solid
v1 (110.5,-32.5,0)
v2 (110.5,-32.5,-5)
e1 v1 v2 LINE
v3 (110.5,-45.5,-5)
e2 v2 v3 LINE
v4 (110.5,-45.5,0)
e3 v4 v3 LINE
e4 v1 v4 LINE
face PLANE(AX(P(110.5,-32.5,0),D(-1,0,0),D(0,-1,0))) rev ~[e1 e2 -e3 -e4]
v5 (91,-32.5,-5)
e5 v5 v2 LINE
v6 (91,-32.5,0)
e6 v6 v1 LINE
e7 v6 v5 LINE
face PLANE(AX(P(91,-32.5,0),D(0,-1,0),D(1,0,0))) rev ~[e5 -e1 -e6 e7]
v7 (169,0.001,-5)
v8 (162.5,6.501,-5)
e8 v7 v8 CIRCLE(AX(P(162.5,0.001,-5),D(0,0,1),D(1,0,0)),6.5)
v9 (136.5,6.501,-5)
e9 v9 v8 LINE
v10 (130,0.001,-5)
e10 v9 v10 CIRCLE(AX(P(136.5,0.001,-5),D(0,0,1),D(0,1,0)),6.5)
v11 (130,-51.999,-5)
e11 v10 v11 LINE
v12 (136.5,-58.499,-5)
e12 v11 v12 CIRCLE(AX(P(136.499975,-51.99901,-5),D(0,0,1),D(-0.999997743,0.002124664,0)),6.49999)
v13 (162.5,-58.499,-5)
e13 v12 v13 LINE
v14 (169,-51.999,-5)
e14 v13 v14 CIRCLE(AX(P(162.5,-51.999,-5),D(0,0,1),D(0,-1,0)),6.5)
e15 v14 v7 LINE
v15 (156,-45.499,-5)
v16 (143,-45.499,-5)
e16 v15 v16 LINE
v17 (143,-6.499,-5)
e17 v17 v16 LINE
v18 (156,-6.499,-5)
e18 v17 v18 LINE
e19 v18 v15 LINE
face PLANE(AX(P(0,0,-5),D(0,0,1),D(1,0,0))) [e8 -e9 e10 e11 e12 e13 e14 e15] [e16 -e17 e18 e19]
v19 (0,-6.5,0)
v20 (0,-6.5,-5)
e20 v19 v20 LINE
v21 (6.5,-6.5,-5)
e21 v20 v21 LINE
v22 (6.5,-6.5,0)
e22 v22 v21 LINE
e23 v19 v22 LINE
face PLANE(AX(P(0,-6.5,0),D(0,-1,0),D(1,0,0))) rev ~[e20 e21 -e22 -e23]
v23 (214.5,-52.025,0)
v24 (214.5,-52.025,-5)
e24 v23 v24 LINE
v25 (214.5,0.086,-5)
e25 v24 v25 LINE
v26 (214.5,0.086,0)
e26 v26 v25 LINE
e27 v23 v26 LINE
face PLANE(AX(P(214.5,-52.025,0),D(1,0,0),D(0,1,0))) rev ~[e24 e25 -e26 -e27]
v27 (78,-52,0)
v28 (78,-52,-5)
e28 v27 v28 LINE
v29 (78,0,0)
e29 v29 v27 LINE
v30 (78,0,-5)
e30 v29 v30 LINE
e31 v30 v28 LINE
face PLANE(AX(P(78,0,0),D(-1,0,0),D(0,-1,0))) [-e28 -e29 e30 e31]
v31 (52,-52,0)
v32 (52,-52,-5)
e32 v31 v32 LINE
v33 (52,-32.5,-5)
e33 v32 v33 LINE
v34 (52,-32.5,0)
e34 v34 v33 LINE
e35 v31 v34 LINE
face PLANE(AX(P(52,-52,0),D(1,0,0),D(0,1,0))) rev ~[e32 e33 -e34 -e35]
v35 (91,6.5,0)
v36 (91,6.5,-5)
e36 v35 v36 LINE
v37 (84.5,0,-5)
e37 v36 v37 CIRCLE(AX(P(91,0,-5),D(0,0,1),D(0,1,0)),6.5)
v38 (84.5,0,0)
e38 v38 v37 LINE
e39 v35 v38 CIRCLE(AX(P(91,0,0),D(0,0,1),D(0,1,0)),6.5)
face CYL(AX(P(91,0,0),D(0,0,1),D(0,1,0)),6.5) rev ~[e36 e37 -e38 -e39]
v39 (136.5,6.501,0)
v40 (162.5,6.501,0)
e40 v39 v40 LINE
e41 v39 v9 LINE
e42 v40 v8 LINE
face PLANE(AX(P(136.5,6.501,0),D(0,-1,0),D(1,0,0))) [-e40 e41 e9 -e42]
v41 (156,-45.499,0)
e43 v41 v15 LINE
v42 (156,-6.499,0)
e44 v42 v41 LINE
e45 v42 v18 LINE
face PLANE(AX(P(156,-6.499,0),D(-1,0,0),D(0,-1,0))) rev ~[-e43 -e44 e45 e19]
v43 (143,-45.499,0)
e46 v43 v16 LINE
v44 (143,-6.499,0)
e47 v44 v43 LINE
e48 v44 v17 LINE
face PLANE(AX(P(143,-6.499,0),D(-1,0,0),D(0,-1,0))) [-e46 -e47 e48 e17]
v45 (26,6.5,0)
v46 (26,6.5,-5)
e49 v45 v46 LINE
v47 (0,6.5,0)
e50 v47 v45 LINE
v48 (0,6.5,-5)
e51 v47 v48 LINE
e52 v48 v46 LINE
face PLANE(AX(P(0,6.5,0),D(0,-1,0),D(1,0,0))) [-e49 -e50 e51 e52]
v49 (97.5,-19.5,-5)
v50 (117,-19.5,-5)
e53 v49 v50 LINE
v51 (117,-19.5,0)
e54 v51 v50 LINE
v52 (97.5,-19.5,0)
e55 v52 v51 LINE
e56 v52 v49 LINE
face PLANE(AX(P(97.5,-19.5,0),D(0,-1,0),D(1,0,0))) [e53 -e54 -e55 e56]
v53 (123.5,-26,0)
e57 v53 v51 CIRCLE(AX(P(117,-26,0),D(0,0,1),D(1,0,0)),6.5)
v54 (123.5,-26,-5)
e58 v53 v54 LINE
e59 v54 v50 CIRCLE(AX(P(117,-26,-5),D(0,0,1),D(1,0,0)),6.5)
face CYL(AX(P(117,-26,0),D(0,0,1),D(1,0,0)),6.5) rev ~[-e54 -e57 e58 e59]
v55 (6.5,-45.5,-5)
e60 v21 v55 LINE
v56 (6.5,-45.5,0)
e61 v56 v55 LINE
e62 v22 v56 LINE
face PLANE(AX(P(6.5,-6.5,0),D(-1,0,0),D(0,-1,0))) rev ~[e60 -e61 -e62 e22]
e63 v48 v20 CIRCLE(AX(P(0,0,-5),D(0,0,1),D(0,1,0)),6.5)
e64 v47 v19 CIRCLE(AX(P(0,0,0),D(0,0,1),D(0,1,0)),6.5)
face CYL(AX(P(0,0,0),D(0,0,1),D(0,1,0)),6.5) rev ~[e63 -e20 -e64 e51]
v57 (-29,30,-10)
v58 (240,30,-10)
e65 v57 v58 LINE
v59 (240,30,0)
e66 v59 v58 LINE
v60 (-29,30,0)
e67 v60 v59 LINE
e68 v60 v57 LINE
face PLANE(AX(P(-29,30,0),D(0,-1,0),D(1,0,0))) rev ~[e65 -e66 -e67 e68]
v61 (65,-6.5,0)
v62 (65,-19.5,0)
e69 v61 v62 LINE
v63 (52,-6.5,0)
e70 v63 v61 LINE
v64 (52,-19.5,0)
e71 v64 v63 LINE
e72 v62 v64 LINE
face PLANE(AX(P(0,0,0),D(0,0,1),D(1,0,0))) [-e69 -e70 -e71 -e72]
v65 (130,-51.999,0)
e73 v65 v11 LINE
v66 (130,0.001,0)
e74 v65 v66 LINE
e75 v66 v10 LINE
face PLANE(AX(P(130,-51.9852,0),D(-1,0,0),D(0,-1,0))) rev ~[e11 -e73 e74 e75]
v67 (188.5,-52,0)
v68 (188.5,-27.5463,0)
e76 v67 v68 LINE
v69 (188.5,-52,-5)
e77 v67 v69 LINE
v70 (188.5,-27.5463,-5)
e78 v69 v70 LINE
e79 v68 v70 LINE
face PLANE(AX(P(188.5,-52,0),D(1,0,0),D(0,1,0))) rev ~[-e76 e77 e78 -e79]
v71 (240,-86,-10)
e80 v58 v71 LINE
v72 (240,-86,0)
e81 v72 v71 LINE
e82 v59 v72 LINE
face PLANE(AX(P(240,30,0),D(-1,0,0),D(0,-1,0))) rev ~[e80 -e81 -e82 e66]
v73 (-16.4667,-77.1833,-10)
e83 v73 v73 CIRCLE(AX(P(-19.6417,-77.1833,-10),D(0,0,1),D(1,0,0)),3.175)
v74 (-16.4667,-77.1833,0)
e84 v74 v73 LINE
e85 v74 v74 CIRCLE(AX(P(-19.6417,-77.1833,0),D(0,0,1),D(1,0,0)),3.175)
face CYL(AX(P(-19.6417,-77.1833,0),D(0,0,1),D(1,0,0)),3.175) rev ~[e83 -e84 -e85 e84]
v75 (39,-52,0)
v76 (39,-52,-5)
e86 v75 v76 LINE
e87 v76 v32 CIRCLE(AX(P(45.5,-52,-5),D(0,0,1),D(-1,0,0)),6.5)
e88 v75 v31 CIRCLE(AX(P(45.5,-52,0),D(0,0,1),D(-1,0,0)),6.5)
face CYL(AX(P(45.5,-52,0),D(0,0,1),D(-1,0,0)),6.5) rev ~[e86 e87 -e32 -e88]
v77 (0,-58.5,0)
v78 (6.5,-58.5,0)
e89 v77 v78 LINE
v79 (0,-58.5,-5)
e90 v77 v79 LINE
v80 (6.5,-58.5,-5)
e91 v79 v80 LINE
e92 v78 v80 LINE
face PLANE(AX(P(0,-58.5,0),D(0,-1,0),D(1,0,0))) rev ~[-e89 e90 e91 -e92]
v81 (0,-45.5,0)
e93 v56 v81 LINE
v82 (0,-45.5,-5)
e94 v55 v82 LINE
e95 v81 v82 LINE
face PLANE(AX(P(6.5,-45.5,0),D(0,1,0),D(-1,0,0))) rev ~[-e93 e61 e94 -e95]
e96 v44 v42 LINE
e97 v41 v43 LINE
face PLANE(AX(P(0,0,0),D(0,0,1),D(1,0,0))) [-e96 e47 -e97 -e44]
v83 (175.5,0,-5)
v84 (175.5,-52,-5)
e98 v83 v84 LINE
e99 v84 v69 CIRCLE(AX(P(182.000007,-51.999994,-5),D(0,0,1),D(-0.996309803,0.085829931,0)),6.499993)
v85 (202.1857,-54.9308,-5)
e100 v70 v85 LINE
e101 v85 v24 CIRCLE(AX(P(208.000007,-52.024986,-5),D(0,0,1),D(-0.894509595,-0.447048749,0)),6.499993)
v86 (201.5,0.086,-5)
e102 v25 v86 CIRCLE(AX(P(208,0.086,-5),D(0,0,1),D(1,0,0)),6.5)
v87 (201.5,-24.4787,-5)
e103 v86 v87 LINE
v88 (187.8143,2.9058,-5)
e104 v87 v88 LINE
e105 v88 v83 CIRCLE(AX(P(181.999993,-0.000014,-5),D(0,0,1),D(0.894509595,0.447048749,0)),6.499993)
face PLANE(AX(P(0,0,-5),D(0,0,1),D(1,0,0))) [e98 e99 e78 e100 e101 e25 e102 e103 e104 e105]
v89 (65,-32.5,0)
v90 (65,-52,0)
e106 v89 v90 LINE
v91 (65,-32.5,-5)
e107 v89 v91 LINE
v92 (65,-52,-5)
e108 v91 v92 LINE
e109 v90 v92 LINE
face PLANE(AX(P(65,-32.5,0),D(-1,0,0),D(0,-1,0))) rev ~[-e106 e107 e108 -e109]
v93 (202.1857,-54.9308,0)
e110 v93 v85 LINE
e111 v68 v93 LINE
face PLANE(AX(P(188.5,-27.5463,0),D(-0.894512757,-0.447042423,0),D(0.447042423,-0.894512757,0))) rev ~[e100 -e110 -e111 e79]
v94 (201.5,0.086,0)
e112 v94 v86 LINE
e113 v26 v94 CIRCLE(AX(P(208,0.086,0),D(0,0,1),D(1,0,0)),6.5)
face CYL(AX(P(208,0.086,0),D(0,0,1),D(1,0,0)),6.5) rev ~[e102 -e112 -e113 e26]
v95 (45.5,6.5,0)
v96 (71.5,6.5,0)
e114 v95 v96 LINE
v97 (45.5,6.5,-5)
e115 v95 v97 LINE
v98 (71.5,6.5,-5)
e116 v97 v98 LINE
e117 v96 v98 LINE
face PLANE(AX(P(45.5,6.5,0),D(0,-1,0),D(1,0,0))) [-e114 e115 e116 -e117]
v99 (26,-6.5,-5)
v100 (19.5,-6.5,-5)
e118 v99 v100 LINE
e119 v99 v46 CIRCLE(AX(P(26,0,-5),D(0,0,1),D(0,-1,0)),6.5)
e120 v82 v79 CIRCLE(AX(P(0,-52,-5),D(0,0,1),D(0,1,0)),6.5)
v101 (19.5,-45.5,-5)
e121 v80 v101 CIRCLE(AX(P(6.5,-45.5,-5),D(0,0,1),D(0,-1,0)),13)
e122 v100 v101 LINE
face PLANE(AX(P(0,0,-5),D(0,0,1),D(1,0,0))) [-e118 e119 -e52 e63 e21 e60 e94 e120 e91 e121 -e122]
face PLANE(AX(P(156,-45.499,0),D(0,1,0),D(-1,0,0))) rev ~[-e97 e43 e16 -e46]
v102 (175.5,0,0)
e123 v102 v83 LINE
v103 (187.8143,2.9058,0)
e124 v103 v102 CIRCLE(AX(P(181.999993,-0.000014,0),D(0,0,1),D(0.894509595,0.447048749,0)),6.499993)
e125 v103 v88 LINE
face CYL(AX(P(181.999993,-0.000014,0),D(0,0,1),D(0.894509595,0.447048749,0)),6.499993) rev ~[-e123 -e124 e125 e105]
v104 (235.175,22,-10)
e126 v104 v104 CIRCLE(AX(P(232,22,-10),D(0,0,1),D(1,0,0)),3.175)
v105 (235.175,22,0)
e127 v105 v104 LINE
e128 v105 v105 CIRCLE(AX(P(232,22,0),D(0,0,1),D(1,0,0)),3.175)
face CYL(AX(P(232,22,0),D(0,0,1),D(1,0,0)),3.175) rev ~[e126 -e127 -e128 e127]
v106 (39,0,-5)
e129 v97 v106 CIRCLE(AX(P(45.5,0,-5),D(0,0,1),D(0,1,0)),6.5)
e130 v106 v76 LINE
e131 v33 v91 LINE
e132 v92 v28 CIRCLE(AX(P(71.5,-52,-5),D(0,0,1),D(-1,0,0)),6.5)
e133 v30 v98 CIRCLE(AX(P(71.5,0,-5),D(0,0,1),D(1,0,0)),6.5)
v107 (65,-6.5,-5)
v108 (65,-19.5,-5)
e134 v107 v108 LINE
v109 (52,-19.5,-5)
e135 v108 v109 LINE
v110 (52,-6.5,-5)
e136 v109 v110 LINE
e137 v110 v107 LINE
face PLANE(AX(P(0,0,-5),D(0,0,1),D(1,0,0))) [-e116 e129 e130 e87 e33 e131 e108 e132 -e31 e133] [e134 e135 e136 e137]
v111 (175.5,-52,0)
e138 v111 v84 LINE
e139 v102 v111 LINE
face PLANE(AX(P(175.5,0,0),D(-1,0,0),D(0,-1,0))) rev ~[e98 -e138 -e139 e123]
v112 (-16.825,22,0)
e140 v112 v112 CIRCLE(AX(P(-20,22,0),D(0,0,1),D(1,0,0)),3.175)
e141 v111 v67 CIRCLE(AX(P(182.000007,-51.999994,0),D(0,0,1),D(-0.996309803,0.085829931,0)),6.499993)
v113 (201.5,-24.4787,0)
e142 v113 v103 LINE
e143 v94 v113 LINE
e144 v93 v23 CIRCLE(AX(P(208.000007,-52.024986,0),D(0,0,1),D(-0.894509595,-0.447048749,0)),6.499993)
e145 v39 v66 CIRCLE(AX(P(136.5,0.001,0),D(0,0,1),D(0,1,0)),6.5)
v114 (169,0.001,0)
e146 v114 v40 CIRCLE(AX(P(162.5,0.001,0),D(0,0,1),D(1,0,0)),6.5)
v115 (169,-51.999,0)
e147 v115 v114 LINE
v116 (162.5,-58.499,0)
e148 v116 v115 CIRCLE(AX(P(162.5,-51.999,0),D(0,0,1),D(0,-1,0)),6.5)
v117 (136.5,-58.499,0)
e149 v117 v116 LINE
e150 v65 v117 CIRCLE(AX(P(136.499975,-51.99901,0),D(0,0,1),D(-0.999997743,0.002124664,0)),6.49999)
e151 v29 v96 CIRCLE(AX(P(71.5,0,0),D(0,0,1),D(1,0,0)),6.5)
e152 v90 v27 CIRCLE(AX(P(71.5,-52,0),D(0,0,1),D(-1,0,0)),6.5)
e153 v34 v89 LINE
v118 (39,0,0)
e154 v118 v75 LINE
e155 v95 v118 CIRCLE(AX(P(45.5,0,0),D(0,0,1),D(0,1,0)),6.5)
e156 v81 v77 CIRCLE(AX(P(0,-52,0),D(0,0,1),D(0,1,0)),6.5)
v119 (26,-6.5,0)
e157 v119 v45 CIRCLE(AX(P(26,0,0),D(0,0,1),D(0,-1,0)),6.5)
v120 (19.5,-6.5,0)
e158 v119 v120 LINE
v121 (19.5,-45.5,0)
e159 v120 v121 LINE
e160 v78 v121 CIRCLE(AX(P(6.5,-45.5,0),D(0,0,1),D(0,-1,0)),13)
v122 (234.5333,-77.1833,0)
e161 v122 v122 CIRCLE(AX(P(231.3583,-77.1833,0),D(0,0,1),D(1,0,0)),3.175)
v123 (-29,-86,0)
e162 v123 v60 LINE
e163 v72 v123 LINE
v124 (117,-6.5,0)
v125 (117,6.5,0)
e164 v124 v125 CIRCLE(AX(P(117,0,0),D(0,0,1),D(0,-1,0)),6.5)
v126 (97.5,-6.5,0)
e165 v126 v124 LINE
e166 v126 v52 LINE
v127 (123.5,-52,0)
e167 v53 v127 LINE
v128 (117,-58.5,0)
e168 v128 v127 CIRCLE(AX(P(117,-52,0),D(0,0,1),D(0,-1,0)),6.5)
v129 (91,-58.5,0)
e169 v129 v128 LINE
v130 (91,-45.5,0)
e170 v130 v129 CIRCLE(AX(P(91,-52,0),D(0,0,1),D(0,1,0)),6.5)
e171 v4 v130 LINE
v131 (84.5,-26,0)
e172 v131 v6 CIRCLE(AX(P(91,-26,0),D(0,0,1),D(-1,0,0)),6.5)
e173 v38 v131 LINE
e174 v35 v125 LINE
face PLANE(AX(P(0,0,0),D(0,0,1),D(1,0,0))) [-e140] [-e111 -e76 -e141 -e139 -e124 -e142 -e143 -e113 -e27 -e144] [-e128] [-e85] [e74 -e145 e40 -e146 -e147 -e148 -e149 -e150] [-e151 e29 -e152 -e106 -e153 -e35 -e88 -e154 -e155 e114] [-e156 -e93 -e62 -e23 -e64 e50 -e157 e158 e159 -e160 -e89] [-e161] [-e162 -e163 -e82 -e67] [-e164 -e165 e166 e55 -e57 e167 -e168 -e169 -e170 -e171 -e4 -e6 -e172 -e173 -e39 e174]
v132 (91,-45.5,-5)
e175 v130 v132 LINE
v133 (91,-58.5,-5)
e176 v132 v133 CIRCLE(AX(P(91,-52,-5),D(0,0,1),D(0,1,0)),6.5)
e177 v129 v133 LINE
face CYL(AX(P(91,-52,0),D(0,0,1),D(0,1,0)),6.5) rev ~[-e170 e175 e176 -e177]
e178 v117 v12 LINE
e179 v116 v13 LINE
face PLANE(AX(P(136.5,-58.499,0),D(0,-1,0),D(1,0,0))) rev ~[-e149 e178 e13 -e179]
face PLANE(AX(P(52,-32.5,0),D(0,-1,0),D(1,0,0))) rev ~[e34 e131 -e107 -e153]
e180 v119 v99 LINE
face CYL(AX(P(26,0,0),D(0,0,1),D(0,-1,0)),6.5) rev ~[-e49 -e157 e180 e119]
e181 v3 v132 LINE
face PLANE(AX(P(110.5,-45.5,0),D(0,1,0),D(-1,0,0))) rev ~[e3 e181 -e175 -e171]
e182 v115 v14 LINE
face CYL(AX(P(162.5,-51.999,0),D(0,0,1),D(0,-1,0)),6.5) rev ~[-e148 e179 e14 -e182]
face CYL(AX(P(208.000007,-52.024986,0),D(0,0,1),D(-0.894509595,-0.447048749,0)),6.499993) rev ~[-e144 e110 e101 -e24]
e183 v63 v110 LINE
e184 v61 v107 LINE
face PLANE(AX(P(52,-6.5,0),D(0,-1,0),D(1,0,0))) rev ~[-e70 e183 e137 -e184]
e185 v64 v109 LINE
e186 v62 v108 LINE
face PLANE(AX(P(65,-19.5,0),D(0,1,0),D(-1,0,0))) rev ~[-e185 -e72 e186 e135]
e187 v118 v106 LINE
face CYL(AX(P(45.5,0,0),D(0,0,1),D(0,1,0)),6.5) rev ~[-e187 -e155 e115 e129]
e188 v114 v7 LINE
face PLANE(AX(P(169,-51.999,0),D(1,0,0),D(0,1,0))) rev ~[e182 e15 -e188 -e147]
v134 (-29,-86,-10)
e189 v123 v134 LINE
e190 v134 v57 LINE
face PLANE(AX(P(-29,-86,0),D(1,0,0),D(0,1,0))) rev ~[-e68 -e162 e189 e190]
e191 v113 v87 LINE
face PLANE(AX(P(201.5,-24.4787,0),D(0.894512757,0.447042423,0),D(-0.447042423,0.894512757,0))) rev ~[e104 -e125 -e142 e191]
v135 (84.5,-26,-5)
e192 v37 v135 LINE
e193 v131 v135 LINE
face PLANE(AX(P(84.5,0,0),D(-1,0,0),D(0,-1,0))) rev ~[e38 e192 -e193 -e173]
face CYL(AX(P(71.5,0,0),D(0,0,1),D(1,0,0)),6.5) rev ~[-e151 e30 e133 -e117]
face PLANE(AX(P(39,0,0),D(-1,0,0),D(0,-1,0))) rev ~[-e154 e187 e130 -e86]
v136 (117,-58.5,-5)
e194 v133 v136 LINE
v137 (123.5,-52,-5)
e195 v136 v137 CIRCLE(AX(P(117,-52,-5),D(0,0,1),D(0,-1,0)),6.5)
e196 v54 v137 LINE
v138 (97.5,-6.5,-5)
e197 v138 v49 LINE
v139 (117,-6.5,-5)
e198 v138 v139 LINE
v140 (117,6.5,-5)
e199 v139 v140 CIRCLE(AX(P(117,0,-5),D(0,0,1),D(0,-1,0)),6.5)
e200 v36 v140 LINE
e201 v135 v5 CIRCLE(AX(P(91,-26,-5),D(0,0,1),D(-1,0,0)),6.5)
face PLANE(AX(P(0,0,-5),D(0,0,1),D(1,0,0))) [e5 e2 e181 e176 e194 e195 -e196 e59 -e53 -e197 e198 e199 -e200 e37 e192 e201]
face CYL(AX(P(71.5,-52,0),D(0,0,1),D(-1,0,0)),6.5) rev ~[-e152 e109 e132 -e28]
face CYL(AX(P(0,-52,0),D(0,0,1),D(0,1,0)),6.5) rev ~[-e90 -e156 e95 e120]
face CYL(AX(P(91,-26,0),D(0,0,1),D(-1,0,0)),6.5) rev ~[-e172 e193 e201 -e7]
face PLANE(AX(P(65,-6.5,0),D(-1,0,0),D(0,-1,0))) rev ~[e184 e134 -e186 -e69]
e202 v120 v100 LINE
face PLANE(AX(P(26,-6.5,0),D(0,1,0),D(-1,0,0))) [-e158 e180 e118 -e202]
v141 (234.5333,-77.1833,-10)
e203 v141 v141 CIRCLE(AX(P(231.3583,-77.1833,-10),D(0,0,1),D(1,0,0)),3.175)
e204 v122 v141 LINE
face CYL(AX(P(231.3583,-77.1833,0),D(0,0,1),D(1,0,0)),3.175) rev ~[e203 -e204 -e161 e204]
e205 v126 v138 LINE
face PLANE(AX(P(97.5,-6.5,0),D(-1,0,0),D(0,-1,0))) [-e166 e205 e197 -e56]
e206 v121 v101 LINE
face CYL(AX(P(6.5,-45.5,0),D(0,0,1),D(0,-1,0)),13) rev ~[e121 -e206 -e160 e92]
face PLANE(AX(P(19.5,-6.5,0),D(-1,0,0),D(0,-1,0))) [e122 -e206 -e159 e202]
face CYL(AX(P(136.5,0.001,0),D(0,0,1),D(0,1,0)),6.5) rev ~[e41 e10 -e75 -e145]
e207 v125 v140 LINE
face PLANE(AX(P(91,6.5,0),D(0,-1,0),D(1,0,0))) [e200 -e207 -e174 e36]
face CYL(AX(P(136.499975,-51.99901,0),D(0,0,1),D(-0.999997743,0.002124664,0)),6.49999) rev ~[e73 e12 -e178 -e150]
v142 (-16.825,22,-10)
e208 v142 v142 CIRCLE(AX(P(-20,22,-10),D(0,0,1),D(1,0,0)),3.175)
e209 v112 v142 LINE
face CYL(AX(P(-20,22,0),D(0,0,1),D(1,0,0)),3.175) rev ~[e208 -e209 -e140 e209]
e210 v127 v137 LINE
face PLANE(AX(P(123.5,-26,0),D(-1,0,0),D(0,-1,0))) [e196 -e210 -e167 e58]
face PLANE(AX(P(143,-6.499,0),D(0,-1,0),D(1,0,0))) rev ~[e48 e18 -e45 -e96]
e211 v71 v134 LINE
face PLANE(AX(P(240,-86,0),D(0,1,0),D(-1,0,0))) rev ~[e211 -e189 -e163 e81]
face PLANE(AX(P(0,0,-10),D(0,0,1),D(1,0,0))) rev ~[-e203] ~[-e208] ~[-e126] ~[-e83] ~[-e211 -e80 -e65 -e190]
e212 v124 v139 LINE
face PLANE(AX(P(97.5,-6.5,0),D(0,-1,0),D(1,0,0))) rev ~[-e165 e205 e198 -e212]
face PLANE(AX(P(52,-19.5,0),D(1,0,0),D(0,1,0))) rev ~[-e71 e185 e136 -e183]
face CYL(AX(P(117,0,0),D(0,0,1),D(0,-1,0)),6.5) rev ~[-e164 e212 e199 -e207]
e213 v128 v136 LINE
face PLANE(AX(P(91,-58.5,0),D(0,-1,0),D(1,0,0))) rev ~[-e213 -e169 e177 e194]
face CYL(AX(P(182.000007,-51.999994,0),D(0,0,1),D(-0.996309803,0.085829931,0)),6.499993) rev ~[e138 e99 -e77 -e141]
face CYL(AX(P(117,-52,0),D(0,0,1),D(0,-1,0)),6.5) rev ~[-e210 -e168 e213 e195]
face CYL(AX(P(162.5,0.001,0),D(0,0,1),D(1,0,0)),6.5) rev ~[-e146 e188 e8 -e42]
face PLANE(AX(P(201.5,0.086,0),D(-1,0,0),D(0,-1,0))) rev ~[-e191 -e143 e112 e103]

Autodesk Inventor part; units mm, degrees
ref_plane "YZ Plane" through (0, 0, 0) normal (1, 0, 0) x (0, 1, 0)
ref_plane "XZ Plane" through (0, 0, 0) normal (0, 1, 0) x (-1, 0, 0)
ref_plane "XY Plane" through (0, 0, 0) normal (0, 0, 1) x (1, 0, 0)
sketch "Sketch1" plane through (0, 0, 0) normal (0, 0, 1) x (1, 0, 0)
  arc A0 (0, 6.5) -> (0, -6.5) centre (0, 0) ccw
  line L0 (0, 6.5) -> (26, 6.5)
  line L1 (0, -6.5) -> (6.5, -6.5)
  arc A1 (26, -6.5) -> (26, 6.5) centre (26, 0) ccw
  line L2 (26, -6.5) -> (19.5, -6.5)
  line L3 (6.5, -6.5) -> (6.5, -45.5)
  line L4 (19.5, -6.5) -> (19.5, -45.5)
  line L5 (6.5, -45.5) -> (0, -45.5)
  arc A2 (0, -45.5) -> (0, -58.5) centre (0, -52) ccw
  line L6 (0, -58.5) -> (6.5, -58.5)
  arc A3 (6.5, -58.5) -> (19.5, -45.5) centre (6.5, -45.5) ccw
  line L7 (39, 0) -> (39, -52)
  arc A4 (39, -52) -> (52, -52) centre (45.5, -52) ccw
  line L8 (52, -52) -> (52, -32.5)
  line L9 (52, -32.5) -> (65, -32.5)
  line L10 (52, -6.5) -> (65, -6.5)
  line L11 (65, -6.5) -> (65, -19.5)
  line L12 (65, -19.5) -> (52, -19.5)
  line L13 (52, -19.5) -> (52, -6.5)
  line L14 (45.5, 6.5) -> (71.5, 6.5)
  line L15 (78, 0) -> (78, -52)
  line L16 (65, -32.5) -> (65, -52)
  arc A5 (65, -52) -> (78, -52) centre (71.5, -52) ccw
  arc A6 (45.5, 6.5) -> (39, 0) centre (45.5, 0) ccw
  arc A7 (78, 0) -> (71.5, 6.5) centre (71.5, 0) ccw
  line L17 (84.5, 0) -> (84.5, -26)
  arc A8 (91, 6.5) -> (84.5, 0) centre (91, 0) ccw
  line L18 (91, 6.5) -> (117, 6.5)
  line L19 (91, -32.5) -> (110.5, -32.5)
  arc A9 (84.5, -26) -> (91, -32.5) centre (91, -26) ccw
  line L20 (97.5, -6.5) -> (97.5, -19.5)
  line L21 (97.5, -6.5) -> (117, -6.5)
  arc A10 (117, -6.5) -> (117, 6.5) centre (117, 0) ccw
  line L22 (97.5, -19.5) -> (117, -19.5)
  arc A11 (123.5, -26) -> (117, -19.5) centre (117, -26) ccw
  line L23 (123.5, -26) -> (123.5, -52)
  line L24 (110.5, -32.5) -> (110.5, -45.5)
  line L25 (110.5, -45.5) -> (91, -45.5)
  arc A12 (91, -45.5) -> (91, -58.5) centre (91, -52) ccw
  arc A13 (117, -58.5) -> (123.5, -52) centre (117, -52) ccw
  line L26 (91, -58.5) -> (117, -58.5)
  line L27 (130, 0.001) -> (130, -51.999)
  line L28 (143, -6.499) -> (143, -45.499)
  line L29 (143, -6.499) -> (156, -6.499)
  line L30 (156, -6.499) -> (156, -45.499)
  line L31 (156, -45.499) -> (143, -45.499)
  arc A14 (136.5, 6.501) -> (130, 0.001) centre (136.5, 0.001) ccw
  line L32 (136.5, 6.501) -> (162.5, 6.501)
  line L33 (136.5, -58.499) -> (162.5, -58.499)
  arc A15 (162.5, -58.499) -> (169, -51.999) centre (162.5, -51.999) ccw
  line L34 (169, -51.999) -> (169, 0.001)
  arc A16 (169, 0.001) -> (162.5, 6.501) centre (162.5, 0.001) ccw
  line L35 (175.5, 0) -> (175.5, -52)
  arc A17 (175.524, -51.4421) -> (188.5, -52) centre (182, -52) ccw
  line L36 (214.5, -52.025) -> (214.5, 0.086)
  line L37 (188.5, -52) -> (188.5, -27.5463)
  line L38 (188.5, -27.5463) -> (202.1857, -54.9308)
  line L39 (201.5, 0.086) -> (201.5, -24.4787)
  line L40 (201.5, -24.4787) -> (187.8143, 2.9058)
  arc A18 (214.5, 0.086) -> (201.5, 0.086) centre (208, 0.086) ccw
  arc A19 (130, -51.9852) -> (136.5, -58.499) centre (136.5, -51.999) ccw
  arc A20 (202.1857, -54.9308) -> (214.5, -52.025) centre (208, -52.025) ccw
  arc A21 (187.8143, 2.9058) -> (175.5, 0) centre (182, 0) ccw
  point P0 (0, 0)
  dimension "d2" = 26
  dimension "d3" = 6.5
  dimension "d4" = 13
  dimension "d11" = 13
  dimension "d12" = 6.5
  dimension "d13" = 13
  dimension "d16" = 39
  dimension "d17" = 39
  dimension "d18" = 6.5
  dimension "d19" = 52
  dimension "d20" = 6.5
  dimension "d22" = 13
  dimension "d23" = 19.5
  dimension "d24" = 13
  dimension "d29" = 13
  dimension "d30" = 13
  dimension "d31" = 13
  dimension "d32" = 13
  dimension "d35" = 26
  dimension "d36" = 52
  dimension "d37" = 13
  dimension "d38" = 6.5
  dimension "d39" = 6.5
  dimension "d46" = 19.5
  dimension "d49" = 6.5
  dimension "d50" = 6.5
  dimension "d51" = 90
  dimension "d52" = 6.5
  dimension "d53" = 26
  dimension "d54" = 6.5
  dimension "d55" = 26
  dimension "d56" = 19.5
  dimension "d57" = 39
  dimension "d58" = 13
  dimension "d59" = 13
  dimension "d60" = 19.5
  dimension "d61" = 13
  dimension "d62" = 19.5
  dimension "d63" = 26
  dimension "d64" = 13
  dimension "d65" = 39
  dimension "d66" = 13
  dimension "d67" = 52
  dimension "d68" = 6.5
  dimension "d69" = 39
  dimension "d70" = 13
  dimension "d71" = 39
  dimension "d72" = 13
  dimension "d73" = 13
  dimension "d74" = 6.5
  dimension "d75" = 90
  dimension "d76" = 26
  dimension "d77" = 13
  dimension "d78" = 6.5
  dimension "d79" = 6.5
  dimension "d84" = 13
  dimension "d86" = 26
  dimension "d87" = 13
  dimension "d89" = 52
  dimension "d90" = 13
  dimension "d93" = 6.5
  dimension "d94" = 6.5
  dimension "d95" = 6.5
  dimension "d96" = 6.5
sketch "Sketch2" plane through (0, 0, 0) normal (0, 0, 1) x (1, 0, 0)
  circle A0 centre (231.3583, -77.1833) radius 3.175
  circle A1 centre (-20, 22) radius 3.175
  circle A2 centre (232, 22) radius 3.175
  circle A3 centre (-19.6417, -77.1833) radius 3.175
  line L0 (-29, 30) -> (240, 30)
  line L1 (240, 30) -> (240, -86)
  line L2 (240, -86) -> (-29, -86)
  line L3 (-29, -86) -> (-29, 30)
  point P0 (0, 0)
  dimension "d99" = 6.35
  dimension "d100" = 6.35
  dimension "d101" = 6.35
  dimension "d102" = 6.35
  dimension "d107" = 269
  dimension "d108" = 116
extrude "Extrusion1" add sketch "Sketch2" against normal blind 10
extrude "Extrusion2" cut sketch "Sketch1" against normal blind 5
properties part number "JASON" material "Polyethylene, High Density"
